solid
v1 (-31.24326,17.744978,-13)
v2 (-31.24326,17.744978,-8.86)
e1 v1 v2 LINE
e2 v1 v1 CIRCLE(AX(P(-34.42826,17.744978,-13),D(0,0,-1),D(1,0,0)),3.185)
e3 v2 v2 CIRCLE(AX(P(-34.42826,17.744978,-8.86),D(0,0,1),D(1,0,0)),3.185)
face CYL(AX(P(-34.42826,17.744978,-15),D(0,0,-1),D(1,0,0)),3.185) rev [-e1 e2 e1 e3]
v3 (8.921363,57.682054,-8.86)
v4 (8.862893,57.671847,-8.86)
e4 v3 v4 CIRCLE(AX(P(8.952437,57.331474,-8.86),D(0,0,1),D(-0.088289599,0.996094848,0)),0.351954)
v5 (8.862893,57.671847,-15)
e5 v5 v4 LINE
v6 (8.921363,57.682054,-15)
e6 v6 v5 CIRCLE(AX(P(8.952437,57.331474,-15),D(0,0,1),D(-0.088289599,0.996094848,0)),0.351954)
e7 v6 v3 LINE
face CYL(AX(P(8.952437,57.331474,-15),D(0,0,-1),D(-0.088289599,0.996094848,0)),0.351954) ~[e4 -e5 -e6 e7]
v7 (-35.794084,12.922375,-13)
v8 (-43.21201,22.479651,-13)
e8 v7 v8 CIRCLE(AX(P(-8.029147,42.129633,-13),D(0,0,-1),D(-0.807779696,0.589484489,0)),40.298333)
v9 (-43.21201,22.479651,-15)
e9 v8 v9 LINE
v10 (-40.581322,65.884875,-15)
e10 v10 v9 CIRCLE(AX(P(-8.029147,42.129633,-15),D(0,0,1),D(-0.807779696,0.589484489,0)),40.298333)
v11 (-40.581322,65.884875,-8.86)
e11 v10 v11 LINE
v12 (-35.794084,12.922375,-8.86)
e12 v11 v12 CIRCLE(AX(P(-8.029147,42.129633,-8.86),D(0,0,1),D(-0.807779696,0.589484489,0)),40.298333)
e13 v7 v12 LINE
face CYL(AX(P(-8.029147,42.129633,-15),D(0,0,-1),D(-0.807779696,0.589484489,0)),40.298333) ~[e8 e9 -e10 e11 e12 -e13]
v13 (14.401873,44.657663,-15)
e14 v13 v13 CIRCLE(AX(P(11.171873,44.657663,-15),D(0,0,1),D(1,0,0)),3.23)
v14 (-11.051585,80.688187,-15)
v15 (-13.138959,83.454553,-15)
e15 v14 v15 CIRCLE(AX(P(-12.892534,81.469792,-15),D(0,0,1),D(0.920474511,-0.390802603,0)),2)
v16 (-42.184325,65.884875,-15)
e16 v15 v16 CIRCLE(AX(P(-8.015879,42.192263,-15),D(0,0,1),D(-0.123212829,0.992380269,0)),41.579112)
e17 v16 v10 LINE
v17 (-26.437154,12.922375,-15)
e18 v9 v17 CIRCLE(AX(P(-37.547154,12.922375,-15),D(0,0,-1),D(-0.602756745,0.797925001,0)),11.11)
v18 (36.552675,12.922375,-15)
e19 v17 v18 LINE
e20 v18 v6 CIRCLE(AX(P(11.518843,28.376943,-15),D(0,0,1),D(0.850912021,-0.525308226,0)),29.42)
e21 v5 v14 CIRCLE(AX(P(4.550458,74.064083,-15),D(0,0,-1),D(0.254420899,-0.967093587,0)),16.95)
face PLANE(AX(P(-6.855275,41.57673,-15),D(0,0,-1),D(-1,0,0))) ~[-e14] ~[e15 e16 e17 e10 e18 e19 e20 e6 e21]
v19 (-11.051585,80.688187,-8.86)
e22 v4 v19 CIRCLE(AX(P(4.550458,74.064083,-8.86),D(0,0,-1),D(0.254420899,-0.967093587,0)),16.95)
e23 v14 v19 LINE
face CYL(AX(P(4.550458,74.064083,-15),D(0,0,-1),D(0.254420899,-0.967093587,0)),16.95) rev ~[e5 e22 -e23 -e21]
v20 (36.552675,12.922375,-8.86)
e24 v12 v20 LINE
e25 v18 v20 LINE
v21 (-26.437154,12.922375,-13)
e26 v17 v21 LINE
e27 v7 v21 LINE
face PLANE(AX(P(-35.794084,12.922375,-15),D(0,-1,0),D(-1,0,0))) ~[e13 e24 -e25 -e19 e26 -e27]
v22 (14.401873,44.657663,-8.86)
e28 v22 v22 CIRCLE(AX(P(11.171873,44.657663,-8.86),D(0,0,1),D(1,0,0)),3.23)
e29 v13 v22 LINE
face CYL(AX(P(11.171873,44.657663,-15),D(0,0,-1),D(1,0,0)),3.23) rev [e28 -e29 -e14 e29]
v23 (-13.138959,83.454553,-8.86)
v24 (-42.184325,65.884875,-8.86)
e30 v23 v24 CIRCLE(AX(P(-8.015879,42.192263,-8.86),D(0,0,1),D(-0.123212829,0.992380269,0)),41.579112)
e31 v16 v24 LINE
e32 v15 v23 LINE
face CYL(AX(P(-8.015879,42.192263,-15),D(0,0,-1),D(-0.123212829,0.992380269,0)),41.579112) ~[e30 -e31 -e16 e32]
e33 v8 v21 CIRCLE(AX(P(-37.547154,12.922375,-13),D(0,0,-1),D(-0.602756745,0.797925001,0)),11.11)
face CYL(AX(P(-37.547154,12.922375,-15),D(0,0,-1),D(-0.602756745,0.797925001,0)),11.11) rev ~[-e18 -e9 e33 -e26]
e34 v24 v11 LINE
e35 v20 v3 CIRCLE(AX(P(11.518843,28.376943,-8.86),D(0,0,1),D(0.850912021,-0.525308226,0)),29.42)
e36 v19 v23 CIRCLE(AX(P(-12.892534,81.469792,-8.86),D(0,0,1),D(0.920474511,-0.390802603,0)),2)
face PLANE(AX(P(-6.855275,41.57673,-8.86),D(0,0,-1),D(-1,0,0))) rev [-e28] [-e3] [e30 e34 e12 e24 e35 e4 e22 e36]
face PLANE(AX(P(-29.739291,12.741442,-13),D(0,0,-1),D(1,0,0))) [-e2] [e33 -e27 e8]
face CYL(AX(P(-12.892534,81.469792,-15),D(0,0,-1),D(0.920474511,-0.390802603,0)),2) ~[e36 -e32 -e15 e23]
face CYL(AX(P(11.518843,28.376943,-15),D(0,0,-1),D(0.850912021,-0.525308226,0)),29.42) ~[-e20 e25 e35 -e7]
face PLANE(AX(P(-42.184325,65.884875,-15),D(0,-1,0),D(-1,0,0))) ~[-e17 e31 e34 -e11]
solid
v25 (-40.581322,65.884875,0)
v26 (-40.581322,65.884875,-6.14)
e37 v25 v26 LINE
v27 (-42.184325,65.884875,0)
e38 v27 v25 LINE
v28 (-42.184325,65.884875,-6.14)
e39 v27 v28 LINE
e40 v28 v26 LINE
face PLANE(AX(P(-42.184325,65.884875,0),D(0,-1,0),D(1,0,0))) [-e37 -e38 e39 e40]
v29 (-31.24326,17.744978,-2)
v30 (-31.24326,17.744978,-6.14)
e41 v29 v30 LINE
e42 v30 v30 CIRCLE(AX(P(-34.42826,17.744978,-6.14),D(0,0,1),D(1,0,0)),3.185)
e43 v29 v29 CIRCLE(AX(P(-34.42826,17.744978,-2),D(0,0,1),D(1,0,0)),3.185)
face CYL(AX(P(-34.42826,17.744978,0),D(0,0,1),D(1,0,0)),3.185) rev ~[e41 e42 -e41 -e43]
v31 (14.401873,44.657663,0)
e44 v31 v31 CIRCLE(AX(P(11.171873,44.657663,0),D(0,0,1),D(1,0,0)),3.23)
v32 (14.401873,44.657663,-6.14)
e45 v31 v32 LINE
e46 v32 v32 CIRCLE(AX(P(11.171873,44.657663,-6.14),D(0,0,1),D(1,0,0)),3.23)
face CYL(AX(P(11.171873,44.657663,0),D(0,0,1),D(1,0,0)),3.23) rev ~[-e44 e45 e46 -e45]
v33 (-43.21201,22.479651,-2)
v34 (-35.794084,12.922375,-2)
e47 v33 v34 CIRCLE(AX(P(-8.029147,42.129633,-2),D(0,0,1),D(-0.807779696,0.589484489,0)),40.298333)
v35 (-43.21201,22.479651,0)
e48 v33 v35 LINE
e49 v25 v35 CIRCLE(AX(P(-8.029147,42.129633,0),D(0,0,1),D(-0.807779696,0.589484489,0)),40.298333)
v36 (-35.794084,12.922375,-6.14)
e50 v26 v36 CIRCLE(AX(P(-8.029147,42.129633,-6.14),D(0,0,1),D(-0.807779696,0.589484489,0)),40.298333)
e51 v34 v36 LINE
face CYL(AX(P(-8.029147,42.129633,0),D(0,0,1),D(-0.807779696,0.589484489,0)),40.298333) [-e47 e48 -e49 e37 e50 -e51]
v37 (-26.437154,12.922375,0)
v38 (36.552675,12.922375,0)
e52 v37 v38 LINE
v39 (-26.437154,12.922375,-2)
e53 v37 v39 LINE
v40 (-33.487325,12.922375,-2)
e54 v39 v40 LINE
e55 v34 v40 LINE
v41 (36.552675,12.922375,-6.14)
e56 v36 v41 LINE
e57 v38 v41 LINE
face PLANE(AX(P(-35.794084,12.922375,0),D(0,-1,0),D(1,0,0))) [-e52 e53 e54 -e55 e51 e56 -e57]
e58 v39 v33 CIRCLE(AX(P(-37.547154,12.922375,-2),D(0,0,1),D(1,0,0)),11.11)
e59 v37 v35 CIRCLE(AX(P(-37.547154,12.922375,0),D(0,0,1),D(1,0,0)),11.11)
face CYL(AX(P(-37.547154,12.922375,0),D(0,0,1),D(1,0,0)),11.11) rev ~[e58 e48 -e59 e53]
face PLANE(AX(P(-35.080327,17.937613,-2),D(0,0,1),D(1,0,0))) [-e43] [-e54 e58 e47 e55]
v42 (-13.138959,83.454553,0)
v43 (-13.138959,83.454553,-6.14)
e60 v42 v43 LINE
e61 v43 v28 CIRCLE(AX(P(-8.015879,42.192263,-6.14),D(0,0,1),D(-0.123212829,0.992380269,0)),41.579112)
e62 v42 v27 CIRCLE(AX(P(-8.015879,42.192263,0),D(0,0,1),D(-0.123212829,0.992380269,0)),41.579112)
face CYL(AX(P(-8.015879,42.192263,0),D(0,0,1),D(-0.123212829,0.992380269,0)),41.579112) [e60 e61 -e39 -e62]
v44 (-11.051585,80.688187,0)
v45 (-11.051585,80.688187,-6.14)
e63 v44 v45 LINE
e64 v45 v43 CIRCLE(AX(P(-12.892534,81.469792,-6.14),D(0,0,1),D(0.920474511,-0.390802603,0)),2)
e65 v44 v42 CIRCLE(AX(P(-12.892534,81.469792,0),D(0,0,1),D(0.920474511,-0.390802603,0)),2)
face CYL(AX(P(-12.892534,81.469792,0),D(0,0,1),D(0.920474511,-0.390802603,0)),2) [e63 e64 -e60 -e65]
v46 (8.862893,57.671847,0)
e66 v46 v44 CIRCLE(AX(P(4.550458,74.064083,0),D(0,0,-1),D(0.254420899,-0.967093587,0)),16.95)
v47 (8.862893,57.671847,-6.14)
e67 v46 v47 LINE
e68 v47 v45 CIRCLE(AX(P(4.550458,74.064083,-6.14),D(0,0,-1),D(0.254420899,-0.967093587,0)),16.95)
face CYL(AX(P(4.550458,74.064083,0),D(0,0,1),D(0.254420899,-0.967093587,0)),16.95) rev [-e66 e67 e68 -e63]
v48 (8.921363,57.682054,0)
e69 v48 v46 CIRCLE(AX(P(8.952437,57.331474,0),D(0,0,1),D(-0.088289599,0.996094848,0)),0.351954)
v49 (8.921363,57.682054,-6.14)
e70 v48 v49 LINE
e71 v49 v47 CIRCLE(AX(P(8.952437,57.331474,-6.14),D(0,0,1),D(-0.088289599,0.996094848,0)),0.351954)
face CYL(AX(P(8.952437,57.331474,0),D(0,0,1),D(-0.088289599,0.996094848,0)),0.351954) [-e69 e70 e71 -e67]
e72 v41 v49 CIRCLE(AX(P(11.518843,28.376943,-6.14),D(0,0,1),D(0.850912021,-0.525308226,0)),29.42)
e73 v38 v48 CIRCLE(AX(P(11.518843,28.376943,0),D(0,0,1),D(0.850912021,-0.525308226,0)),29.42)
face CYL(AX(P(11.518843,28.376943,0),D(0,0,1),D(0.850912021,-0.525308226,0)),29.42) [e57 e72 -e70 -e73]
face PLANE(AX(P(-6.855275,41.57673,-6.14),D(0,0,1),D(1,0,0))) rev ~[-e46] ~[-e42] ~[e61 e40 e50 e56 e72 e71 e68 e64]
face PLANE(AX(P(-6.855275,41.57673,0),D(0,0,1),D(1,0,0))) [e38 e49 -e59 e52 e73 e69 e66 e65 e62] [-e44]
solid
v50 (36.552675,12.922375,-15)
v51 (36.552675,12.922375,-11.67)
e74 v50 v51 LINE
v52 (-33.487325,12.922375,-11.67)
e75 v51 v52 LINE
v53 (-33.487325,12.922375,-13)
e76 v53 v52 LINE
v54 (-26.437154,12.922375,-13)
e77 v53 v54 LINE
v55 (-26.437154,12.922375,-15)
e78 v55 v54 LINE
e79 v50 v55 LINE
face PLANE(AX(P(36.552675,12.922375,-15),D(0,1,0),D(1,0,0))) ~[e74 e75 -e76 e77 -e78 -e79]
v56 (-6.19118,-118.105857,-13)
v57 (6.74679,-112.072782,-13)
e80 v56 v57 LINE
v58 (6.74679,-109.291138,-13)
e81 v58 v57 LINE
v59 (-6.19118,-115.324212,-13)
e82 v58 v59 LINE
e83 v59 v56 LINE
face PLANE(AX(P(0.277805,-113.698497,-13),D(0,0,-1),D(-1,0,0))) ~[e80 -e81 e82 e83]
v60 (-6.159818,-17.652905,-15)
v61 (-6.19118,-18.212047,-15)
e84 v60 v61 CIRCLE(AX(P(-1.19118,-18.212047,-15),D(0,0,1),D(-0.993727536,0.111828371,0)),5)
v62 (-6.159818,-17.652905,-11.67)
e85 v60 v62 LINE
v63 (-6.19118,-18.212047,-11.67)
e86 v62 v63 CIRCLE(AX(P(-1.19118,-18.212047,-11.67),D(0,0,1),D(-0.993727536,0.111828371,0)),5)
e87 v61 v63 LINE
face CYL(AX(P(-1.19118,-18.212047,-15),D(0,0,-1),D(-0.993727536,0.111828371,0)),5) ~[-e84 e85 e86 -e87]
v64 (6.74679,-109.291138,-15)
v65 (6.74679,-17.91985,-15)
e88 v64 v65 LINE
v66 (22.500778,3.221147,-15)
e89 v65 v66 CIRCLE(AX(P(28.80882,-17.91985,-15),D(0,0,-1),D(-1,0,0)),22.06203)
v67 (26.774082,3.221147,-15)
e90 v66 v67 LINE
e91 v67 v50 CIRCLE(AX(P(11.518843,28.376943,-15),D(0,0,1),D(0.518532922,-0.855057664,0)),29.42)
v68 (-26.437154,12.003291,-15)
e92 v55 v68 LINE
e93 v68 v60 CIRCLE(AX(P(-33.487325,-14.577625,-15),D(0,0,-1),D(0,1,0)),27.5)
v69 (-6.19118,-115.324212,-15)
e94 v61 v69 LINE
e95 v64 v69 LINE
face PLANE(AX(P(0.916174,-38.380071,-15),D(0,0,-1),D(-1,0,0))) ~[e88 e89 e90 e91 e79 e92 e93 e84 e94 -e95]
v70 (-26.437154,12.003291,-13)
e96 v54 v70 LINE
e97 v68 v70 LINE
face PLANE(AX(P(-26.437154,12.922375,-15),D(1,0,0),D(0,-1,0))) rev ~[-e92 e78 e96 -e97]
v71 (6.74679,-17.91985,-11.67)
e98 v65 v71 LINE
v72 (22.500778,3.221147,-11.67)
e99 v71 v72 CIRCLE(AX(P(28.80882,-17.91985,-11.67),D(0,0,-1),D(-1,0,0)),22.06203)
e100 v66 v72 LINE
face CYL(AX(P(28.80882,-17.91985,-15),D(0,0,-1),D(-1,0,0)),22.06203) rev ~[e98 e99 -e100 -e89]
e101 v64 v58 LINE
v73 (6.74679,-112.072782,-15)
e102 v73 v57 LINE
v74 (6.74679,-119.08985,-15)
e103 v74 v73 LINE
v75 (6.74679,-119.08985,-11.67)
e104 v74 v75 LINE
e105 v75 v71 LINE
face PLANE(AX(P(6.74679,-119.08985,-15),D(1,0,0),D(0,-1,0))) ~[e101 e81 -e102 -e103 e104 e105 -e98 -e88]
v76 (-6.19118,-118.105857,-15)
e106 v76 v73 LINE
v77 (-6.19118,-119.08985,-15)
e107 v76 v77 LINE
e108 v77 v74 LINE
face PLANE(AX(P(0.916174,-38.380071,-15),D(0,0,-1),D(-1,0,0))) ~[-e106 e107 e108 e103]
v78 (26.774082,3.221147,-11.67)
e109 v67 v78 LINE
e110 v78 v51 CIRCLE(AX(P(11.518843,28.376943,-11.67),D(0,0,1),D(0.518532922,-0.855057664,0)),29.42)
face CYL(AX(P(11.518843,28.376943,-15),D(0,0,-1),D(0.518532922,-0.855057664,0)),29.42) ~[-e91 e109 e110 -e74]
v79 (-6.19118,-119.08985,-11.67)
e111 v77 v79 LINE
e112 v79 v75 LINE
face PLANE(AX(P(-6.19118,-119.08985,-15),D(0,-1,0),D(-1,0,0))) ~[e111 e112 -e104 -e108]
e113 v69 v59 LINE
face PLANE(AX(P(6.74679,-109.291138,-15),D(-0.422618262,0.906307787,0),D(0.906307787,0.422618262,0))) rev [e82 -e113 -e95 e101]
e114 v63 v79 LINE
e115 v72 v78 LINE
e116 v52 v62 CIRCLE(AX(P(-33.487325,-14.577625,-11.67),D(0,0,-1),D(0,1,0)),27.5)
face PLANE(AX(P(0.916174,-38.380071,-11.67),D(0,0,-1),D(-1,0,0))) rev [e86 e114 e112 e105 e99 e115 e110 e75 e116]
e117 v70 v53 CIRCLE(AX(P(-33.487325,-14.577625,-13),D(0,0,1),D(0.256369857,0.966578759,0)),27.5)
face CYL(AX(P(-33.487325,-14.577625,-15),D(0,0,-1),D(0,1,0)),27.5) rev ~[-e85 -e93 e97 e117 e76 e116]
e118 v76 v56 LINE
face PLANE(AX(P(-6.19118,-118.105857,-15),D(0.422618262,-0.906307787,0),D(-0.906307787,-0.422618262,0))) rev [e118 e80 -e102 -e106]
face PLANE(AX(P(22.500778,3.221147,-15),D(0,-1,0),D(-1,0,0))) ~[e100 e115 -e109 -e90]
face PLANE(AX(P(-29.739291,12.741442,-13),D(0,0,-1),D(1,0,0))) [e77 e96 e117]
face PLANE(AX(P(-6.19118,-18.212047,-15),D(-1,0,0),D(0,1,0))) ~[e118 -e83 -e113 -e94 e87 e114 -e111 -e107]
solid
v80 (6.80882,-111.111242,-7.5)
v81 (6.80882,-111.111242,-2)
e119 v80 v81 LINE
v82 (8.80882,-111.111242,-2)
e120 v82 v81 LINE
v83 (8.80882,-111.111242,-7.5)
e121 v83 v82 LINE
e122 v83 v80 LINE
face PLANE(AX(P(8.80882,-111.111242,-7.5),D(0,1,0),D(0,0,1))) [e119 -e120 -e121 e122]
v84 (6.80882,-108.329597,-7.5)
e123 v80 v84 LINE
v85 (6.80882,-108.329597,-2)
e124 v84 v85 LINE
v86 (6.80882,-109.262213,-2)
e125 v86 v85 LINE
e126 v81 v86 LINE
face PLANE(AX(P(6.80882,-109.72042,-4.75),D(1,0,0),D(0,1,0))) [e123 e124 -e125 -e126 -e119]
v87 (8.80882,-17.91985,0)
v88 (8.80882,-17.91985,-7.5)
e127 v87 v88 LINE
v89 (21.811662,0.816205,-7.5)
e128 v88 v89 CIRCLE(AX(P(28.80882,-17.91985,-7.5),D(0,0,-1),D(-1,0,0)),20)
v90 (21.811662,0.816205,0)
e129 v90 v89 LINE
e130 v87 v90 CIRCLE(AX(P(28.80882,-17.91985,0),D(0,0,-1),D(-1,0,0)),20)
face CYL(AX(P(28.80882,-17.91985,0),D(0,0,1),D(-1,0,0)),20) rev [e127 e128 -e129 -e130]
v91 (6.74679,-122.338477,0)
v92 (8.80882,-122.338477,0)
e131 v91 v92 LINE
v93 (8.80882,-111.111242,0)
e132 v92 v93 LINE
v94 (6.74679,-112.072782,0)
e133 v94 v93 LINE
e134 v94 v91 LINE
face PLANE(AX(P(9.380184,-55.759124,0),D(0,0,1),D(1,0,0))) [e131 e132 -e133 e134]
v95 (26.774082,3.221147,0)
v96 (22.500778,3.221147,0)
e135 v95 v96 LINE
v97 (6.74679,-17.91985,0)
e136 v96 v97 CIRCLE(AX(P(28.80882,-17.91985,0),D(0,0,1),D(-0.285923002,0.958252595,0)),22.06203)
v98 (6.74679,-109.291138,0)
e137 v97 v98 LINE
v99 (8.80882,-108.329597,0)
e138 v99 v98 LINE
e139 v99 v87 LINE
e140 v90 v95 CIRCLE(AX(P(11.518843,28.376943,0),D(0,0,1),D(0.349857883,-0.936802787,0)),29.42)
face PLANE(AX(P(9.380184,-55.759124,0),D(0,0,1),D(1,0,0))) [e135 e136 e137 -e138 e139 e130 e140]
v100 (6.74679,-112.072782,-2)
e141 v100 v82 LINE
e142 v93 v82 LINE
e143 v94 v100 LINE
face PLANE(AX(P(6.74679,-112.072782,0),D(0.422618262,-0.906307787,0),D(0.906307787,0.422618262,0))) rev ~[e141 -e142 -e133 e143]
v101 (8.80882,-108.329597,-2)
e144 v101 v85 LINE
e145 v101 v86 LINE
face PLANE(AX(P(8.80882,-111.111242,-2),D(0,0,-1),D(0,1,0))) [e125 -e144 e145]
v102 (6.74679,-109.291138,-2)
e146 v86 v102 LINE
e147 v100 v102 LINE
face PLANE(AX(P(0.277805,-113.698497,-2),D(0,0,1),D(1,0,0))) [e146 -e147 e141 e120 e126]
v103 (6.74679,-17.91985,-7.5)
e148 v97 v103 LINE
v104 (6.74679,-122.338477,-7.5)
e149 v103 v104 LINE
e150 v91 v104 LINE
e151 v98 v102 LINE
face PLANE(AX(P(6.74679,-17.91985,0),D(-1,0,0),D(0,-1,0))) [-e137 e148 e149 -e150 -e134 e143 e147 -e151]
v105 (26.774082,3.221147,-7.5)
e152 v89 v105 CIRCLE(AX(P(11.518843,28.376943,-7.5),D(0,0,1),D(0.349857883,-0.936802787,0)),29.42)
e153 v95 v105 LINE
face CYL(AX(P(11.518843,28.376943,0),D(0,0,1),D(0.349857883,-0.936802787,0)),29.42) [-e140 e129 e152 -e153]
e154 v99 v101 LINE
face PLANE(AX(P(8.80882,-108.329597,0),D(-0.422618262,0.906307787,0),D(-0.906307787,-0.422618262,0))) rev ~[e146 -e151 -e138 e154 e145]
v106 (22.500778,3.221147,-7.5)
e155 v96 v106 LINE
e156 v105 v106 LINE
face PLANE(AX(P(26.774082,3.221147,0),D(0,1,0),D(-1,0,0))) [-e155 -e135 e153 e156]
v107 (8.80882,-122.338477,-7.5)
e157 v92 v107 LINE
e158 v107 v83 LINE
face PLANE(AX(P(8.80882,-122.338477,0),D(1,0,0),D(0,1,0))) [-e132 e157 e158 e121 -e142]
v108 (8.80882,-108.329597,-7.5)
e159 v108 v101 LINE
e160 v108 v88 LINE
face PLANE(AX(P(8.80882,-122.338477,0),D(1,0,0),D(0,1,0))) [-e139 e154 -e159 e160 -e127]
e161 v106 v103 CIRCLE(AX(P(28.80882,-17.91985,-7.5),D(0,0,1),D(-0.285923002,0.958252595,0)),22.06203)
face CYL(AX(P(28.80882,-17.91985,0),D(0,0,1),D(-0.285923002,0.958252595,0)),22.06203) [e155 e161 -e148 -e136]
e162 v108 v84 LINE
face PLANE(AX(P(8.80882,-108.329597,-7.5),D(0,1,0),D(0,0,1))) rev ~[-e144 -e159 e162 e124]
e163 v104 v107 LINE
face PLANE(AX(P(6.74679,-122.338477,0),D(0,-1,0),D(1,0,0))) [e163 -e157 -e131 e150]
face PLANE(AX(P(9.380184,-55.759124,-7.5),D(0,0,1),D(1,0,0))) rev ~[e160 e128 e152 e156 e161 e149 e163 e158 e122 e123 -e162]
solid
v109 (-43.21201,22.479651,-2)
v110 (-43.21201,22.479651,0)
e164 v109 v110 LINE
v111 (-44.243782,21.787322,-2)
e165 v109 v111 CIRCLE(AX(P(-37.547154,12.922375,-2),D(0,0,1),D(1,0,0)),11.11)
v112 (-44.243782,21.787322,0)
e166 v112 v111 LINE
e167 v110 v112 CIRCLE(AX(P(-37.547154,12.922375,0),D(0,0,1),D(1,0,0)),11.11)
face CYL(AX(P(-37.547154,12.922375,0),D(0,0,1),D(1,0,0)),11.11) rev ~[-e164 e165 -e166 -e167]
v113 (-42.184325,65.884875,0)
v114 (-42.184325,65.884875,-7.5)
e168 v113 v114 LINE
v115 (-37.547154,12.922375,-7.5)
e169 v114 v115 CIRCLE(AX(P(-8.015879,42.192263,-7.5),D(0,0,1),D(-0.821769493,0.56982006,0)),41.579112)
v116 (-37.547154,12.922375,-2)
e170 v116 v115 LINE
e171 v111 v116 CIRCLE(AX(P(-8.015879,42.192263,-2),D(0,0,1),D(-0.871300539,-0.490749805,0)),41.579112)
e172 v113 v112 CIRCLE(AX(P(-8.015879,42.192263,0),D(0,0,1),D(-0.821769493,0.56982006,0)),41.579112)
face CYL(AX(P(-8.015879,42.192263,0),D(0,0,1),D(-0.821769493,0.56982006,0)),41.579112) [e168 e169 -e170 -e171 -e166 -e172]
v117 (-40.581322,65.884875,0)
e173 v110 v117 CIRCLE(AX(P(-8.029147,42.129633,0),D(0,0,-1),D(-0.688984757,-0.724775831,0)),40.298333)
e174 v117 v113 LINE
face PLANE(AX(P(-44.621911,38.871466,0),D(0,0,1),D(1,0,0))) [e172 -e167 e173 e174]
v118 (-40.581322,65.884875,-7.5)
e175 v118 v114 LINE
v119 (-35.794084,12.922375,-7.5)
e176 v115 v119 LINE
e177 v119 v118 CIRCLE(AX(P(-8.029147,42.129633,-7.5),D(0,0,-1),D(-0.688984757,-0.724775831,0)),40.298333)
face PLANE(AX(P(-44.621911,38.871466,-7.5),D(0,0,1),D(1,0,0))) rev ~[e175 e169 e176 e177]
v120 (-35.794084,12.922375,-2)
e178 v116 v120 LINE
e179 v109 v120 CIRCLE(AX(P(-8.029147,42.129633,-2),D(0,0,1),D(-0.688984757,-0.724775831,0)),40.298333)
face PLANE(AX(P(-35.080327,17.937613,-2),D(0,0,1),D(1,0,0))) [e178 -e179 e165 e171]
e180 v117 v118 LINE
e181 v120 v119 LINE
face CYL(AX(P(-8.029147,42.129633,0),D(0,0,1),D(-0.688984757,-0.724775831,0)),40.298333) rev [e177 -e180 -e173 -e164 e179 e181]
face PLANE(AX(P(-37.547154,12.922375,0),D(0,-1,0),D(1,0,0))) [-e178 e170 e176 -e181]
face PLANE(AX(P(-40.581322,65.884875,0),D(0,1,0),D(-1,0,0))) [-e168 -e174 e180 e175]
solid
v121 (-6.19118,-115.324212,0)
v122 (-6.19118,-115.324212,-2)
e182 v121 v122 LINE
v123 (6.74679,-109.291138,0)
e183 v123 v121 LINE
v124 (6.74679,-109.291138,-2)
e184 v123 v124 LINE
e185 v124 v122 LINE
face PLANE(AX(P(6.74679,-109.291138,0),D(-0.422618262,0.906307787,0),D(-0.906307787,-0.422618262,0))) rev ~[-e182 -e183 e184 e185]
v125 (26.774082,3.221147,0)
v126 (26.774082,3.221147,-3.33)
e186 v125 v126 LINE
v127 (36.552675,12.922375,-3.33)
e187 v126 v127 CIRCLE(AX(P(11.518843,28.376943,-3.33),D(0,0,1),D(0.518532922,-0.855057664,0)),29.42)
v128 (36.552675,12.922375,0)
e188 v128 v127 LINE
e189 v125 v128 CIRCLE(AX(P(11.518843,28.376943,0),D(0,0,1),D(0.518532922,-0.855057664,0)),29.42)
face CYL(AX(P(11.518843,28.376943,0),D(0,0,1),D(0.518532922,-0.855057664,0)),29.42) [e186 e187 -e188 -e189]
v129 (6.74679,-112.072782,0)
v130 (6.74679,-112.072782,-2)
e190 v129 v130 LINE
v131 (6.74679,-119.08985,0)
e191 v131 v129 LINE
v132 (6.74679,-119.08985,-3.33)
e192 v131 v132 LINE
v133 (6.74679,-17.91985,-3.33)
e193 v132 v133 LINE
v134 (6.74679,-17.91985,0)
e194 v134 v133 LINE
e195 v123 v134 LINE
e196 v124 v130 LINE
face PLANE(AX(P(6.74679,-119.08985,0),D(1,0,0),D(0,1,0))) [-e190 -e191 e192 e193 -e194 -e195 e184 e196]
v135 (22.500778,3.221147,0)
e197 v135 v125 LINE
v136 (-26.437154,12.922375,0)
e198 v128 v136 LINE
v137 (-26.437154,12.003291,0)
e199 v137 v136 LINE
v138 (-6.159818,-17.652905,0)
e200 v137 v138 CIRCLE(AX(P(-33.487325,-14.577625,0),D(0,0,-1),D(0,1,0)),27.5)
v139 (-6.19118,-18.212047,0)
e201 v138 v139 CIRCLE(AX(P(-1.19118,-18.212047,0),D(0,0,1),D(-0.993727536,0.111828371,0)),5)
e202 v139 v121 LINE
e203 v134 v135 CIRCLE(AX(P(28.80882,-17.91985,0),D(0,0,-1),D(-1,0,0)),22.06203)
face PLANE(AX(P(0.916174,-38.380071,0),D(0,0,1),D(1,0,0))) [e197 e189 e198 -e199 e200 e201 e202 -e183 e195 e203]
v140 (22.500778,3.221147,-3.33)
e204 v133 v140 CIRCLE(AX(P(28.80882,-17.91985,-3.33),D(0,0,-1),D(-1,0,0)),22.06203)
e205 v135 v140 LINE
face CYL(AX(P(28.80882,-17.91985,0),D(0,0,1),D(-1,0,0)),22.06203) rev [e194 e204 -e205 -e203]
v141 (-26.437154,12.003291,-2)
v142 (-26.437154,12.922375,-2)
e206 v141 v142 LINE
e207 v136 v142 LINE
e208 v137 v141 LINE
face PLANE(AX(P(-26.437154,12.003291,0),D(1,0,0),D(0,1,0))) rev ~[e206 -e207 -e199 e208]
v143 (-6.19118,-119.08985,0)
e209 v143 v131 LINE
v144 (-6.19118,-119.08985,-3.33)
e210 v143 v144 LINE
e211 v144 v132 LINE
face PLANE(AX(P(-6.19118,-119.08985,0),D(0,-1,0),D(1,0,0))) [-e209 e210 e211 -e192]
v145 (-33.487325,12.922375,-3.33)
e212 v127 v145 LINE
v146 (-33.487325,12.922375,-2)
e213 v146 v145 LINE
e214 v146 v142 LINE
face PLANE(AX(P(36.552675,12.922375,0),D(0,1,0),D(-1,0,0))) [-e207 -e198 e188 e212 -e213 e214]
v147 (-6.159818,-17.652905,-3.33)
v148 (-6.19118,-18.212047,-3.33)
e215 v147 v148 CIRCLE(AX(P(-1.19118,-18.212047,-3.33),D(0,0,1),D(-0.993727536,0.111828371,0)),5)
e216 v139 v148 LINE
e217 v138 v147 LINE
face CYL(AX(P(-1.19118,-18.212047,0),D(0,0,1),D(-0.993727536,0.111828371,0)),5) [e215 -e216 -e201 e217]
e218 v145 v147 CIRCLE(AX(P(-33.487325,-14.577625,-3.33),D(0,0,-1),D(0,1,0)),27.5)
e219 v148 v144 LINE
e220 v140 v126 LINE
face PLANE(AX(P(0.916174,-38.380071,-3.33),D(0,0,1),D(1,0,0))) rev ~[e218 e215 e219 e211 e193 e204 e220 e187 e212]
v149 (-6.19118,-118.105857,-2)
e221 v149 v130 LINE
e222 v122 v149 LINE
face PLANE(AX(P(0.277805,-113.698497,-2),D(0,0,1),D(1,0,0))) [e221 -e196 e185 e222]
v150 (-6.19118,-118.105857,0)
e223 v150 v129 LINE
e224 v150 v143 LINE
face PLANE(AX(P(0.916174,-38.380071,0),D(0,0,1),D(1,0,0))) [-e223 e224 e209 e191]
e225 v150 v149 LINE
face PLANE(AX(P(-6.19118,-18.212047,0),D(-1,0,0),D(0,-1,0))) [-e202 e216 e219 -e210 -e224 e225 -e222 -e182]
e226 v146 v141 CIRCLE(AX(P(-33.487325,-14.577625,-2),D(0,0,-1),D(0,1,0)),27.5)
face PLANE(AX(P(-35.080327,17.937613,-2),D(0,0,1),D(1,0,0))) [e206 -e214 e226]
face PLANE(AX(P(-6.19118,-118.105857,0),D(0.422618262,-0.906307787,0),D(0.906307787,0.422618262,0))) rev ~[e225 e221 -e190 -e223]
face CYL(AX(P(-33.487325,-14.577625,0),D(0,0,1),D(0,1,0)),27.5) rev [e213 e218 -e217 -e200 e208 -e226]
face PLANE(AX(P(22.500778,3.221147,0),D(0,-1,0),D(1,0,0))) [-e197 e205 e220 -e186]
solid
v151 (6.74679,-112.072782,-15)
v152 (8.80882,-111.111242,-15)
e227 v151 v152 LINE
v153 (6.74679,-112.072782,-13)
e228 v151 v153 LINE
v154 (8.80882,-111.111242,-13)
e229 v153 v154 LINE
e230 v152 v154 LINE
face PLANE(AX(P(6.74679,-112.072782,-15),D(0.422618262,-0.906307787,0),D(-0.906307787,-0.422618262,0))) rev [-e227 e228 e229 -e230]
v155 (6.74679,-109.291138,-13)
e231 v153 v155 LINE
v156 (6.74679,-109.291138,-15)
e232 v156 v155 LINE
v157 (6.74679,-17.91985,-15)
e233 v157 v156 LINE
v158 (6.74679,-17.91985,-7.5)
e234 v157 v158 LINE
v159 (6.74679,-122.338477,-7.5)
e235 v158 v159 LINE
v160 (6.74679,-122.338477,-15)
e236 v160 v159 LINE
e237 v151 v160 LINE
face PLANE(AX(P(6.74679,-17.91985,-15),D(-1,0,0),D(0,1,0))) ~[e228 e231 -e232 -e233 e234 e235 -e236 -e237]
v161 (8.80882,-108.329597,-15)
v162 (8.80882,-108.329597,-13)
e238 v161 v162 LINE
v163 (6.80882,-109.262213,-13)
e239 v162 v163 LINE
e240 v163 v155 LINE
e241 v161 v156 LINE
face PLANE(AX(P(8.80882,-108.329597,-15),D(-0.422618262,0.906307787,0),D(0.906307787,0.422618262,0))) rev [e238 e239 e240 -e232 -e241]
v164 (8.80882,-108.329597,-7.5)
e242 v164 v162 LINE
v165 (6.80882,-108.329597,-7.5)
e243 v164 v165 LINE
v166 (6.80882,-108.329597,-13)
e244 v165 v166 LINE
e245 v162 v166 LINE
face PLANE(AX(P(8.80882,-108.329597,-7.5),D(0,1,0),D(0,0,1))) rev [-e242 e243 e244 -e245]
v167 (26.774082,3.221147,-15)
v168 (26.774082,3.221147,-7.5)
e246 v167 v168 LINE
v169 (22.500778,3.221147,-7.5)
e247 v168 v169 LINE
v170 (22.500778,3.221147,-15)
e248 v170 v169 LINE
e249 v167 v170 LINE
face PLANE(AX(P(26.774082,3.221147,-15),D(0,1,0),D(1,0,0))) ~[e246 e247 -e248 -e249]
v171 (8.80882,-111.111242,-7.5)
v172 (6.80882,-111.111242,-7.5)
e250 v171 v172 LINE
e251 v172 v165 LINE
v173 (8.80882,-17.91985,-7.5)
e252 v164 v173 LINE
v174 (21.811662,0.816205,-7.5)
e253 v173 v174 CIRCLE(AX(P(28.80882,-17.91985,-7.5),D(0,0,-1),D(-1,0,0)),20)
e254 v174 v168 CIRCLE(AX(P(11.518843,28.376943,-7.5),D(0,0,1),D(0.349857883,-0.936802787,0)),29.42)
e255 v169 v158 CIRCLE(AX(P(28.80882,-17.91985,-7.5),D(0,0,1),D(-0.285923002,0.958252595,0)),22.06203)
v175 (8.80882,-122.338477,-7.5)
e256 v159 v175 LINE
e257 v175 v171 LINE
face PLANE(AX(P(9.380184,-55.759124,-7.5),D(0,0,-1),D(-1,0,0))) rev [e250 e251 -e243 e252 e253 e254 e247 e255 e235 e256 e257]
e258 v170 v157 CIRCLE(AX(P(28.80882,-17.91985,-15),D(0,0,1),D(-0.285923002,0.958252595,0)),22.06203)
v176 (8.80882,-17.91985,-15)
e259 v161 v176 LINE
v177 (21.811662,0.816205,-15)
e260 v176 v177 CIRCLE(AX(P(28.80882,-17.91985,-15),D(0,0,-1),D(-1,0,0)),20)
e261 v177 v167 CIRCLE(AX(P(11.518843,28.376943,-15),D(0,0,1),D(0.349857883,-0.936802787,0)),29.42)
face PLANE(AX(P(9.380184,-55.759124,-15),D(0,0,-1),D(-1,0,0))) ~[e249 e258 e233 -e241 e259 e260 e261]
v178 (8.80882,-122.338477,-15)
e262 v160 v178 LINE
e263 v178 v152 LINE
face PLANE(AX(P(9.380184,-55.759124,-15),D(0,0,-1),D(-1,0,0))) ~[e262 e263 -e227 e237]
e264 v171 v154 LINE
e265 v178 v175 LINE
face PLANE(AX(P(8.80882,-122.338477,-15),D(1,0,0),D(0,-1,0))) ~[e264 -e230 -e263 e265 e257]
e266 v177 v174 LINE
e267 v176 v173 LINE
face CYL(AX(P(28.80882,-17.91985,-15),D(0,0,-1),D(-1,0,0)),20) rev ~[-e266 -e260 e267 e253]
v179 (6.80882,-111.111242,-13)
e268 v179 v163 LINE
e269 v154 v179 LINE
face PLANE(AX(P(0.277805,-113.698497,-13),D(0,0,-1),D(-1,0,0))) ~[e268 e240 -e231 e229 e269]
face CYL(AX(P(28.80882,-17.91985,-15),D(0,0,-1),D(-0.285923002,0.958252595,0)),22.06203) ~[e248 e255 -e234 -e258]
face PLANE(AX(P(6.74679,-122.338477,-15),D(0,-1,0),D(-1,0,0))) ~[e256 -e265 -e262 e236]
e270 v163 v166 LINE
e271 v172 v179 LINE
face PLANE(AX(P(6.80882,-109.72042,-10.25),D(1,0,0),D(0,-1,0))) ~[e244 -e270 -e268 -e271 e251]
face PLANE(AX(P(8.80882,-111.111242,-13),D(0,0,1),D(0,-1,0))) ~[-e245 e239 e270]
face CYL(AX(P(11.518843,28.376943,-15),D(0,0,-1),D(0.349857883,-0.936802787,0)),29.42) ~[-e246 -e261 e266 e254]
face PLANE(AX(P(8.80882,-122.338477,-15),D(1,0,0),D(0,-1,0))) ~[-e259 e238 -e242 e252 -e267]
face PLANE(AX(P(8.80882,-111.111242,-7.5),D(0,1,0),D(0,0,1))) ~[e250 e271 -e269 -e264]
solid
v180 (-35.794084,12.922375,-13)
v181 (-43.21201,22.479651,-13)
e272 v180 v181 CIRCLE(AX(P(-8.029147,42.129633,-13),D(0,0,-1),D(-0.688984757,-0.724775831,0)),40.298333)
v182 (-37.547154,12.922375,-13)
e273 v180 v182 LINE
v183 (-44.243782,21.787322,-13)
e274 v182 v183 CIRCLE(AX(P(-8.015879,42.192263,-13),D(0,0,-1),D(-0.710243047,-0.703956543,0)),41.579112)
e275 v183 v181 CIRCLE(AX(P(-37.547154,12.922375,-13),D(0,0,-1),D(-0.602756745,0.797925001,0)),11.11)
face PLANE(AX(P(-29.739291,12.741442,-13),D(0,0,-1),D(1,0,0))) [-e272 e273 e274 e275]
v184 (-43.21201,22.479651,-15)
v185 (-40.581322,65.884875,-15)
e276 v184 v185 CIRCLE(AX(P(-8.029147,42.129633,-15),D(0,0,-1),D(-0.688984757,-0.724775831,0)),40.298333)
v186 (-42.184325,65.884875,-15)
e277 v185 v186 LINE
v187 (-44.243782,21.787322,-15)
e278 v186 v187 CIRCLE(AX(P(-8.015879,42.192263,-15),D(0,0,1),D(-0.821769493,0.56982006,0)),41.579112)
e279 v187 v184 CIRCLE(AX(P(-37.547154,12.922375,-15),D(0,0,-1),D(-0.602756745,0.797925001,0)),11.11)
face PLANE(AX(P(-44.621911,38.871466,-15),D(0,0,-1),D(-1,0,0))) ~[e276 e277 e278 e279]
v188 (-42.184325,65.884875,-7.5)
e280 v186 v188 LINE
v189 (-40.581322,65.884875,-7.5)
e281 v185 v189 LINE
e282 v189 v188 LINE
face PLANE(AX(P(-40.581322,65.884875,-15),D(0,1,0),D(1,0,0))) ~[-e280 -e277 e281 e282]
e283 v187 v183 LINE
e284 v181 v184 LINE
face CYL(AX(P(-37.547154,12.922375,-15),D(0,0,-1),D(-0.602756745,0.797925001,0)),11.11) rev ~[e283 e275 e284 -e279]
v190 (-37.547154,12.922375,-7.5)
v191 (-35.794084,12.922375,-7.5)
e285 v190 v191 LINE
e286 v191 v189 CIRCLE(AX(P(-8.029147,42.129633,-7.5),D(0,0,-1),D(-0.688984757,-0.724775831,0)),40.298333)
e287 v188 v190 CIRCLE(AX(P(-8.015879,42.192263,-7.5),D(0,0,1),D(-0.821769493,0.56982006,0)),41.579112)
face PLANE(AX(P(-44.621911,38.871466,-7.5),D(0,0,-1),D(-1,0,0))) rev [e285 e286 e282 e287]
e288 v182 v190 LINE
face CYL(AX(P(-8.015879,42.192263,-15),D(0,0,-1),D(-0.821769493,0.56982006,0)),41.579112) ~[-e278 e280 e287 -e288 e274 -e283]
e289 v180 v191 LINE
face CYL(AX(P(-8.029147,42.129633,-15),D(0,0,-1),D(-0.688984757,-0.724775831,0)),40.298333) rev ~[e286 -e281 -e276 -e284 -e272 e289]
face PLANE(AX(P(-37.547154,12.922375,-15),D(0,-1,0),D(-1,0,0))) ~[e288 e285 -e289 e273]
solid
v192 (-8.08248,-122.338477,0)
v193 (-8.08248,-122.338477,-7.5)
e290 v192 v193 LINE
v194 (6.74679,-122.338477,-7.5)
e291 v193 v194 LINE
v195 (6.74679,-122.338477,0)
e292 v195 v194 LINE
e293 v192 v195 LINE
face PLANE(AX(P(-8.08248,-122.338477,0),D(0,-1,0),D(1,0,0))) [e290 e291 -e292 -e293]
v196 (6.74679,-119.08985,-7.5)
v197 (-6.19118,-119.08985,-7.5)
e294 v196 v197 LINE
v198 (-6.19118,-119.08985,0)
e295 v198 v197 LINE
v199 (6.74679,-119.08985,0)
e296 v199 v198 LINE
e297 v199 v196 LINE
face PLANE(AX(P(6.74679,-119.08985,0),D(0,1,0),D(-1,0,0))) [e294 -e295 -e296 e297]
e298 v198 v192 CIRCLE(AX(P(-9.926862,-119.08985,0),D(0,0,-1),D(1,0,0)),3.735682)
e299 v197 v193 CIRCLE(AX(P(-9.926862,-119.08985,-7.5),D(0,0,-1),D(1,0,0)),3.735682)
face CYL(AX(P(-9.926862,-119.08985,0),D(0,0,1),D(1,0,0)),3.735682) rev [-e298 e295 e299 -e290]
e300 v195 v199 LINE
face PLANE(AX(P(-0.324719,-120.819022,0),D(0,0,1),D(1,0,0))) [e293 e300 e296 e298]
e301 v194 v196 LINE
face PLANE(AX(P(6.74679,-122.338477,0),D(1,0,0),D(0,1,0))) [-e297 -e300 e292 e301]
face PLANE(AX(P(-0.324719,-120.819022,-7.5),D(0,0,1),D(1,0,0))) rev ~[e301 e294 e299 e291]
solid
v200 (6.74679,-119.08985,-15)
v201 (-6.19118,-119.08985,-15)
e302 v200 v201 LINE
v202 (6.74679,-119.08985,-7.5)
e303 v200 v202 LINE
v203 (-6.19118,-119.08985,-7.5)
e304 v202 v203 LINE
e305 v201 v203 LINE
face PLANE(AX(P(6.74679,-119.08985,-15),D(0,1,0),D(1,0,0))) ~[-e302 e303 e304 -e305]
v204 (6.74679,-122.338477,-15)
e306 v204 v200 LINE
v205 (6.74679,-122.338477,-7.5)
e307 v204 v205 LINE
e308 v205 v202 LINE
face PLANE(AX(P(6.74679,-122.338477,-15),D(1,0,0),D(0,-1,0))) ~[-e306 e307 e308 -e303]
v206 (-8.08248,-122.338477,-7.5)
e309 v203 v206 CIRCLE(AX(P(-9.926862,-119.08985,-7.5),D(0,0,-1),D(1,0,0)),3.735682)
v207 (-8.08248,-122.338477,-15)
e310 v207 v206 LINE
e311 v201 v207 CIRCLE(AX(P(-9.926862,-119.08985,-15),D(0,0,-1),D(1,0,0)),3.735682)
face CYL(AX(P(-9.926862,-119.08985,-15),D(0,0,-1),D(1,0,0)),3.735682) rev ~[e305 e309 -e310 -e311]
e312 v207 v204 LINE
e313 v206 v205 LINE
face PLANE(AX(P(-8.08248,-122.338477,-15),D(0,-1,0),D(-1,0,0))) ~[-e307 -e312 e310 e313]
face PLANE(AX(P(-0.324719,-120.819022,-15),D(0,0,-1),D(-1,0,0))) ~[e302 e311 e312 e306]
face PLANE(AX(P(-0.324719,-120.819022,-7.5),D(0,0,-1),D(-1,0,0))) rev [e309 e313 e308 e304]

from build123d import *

# Parameters (mm, degrees)
F1_DEPTH  = 7.5
F2_DEPTH  = 7.5
F3_DEPTH  = 3.33
F0_R      = 3.185
F0_R_2    = 3.23
F4_DEPTH  = 6.14
F5_DEPTH  = 7.5
F8_DEPTH  = 2
F9_W      = 2.7816444635
F9_H      = 5.5
F10_DEPTH = 2
F14_DEPTH = 2
F17_DEPTH = 2


with BuildPart() as f1:
    # F0 (on Top) → F1 (new body)
    with BuildSketch(Plane.XY):
        with BuildLine():
            Line((8.8088196781, -59.1273443937), (8.8088196781, -17.9198504258))
            ThreePointArc((8.8088196781, -17.9198504258), (12.3780078725, -6.516849794), (21.811662019, 0.8162053142))
            ThreePointArc((21.811662019, 0.8162053142), (24.3493437167, 1.9021505043), (26.7740816538, 3.2211468239))
            Line((26.7740816538, 3.2211468239), (22.5007778988, 3.2211468239))
            ThreePointArc((22.5007778988, 3.2211468239), (11.1184075705, -4.7371922999), (6.7467899482, -17.9198504258))
            Line((6.7467899482, -17.9198504258), (6.7467899482, -59.1273443937))
            Line((6.7467899482, -59.1273443937), (6.7467899482, -119.0898504258))
            Line((6.7467899482, -119.0898504258), (6.7467899482, -122.3384766844))
            Line((6.7467899482, -122.3384766844), (8.8088196781, -122.3384766844))
            Line((8.8088196781, -122.3384766844), (8.8088196781, -59.1273443937))
        make_face()
    extrude(amount=-F1_DEPTH)


with BuildPart() as f2:
    # F0 (on Top) → F2 (new body)
    with BuildSketch(Plane.XY):
        with BuildLine():
            Line((-8.0824800033, -122.3384766844), (6.7467899482, -122.3384766844))
            Line((6.7467899482, -122.3384766844), (6.7467899482, -119.0898504258))
            Line((6.7467899482, -119.0898504258), (-6.1911803219, -119.0898504258))
            ThreePointArc((-6.1911803219, -119.0898504258), (-6.6984458535, -120.9693840816), (-8.0824800033, -122.3384766844))
        make_face()
    extrude(amount=-F2_DEPTH)


with BuildPart() as f3:
    # F0 (on Top) → F3 (new body)
    with BuildSketch(Plane.XY):
        with BuildLine():
            Line((22.5007778988, 3.2211468239), (26.7740816538, 3.2211468239))
            ThreePointArc((26.7740816538, 3.2211468239), (32.2391411967, 7.4914065207), (36.5526747632, 12.9223752977))
            Line((36.5526747632, 12.9223752977), (-33.4873252368, 12.9223752977))
            ThreePointArc((-33.4873252368, 12.9223752977), (-12.9834206648, 3.748310398), (-6.1598180011, -17.6529048985))
            ThreePointArc((-6.1598180011, -17.6529048985), (-6.1833335846, -17.9320363919), (-6.1911803219, -18.2120467524))
            Line((-6.1911803219, -18.2120467524), (-6.1911803219, -119.0898504258))
            Line((-6.1911803219, -119.0898504258), (6.7467899482, -119.0898504258))
            Line((6.7467899482, -119.0898504258), (6.7467899482, -59.1273443937))
            Line((6.7467899482, -59.1273443937), (6.7467899482, -17.9198504258))
            ThreePointArc((6.7467899482, -17.9198504258), (11.1184075705, -4.7371922999), (22.5007778988, 3.2211468239))
        make_face()
    extrude(amount=-F3_DEPTH)


with BuildPart() as f4:
    # F0 (on Top) → F4 (new body)
    with BuildSketch(Plane.XY):
        with BuildLine():
            Line((-33.4873252368, 12.9223752977), (36.5526747632, 12.9223752977))
            ThreePointArc((36.5526747632, 12.9223752977), (36.5529133557, 43.8311248311), (8.9213631661, 57.6820537492))
            ThreePointArc((8.9213631661, 57.6820537492), (8.8919123245, 57.6781849796), (8.8628925916, 57.6718466396))
            ThreePointArc((8.8628925916, 57.6718466396), (-8.2675679301, 62.9735147852), (-11.0515846019, 80.688187065))
            ThreePointArc((-11.0515846019, 80.688187065), (-11.2960308683, 82.6744411626), (-13.1389592812, 83.4545528098))
            ThreePointArc((-13.1389592812, 83.4545528098), (-29.5363204866, 77.7688440903), (-42.1843247147, 65.8848747538))
            Line((-42.1843247147, 65.8848747538), (-40.5813219482, 65.8848747538))
            ThreePointArc((-40.5813219482, 65.8848747538), (-48.1638587582, 38.5018882849), (-35.7940839918, 12.9223752977))
            Line((-35.7940839918, 12.9223752977), (-33.4873252368, 12.9223752977))
        make_face()
        with Locations((-34.428260039, 17.7449777678)):
            Circle(F0_R, mode=Mode.SUBTRACT)
        with Locations((11.1718727276, 44.6576625109)):
            Circle(F0_R_2, mode=Mode.SUBTRACT)
    extrude(amount=-F4_DEPTH)


with BuildPart() as f5:
    # F0 (on Top) → F5 (new body)
    with BuildSketch(Plane.XY):
        with BuildLine():
            Line((-37.5471541768, 12.9223752977), (-35.7940839918, 12.9223752977))
            ThreePointArc((-35.7940839918, 12.9223752977), (-48.1638587582, 38.5018882849), (-40.5813219482, 65.8848747538))
            Line((-40.5813219482, 65.8848747538), (-42.1843247147, 65.8848747538))
            ThreePointArc((-42.1843247147, 65.8848747538), (-49.436528488, 38.5656475619), (-37.5471541768, 12.9223752977))
        make_face()
    extrude(amount=-F5_DEPTH)


with BuildPart() as f8_tool:
    # F7 (on face) → F8 (new body)
    with BuildSketch(Plane.XY):
        Polygon((-6.1911803219, -115.3242123343), (-6.1911803219, -118.1058567978), (6.7467899482, -112.0727821798), (6.7467899482, -109.2911377163), align=None)
        Polygon((6.7467899482, -109.2911377163), (6.7467899482, -112.0727821798), (8.8088196781, -111.1112419255), (8.8088196781, -108.3295974619), align=None)
    extrude(amount=-F8_DEPTH)


with BuildPart() as f1_1:
    add(f1.part)

    # F8: cut by f8_tool
    add(f8_tool.part, mode=Mode.SUBTRACT)

    # F9 (on face) → F10 (cut)
    with BuildSketch(Plane.YZ.offset(8.8088196781)):
        with Locations((-109.7204196937, -4.75)):
            Rectangle(F9_W, F9_H)
    extrude(amount=-F10_DEPTH, mode=Mode.SUBTRACT)


with BuildPart() as f3_1:
    add(f3.part)

    # F8: cut by f8_tool
    add(f8_tool.part, mode=Mode.SUBTRACT)


with BuildPart() as f11_1:
    # F11: instance of F4
    add(f4.part.mirror(Plane(origin=(9.0970071096, -56.098686688, -7.5), x_dir=(1, 0, 0), z_dir=(0, 0, -1))))


with BuildPart() as f11_2:
    # F11: instance of F3
    add(f3_1.part.mirror(Plane(origin=(9.0970071096, -56.098686688, -7.5), x_dir=(1, 0, 0), z_dir=(0, 0, -1))))


with BuildPart() as f11_3:
    # F11: instance of F1
    add(f1_1.part.mirror(Plane(origin=(9.0970071096, -56.098686688, -7.5), x_dir=(1, 0, 0), z_dir=(0, 0, -1))))


with BuildPart() as f11_4:
    # F11: instance of F5
    add(f5.part.mirror(Plane(origin=(9.0970071096, -56.098686688, -7.5), x_dir=(1, 0, 0), z_dir=(0, 0, -1))))


with BuildPart() as f11_5:
    # F11: instance of F2
    add(f2.part.mirror(Plane(origin=(9.0970071096, -56.098686688, -7.5), x_dir=(1, 0, 0), z_dir=(0, 0, -1))))


with BuildPart() as f14_tool:
    # F13 (on offset) → F14 (new body)
    with BuildSketch(Plane.XY):
        with BuildLine():
            ThreePointArc((-26.437154177, 12.9223752977), (-32.5957619895, 22.868018334), (-44.2437816128, 21.7873220536))
            ThreePointArc((-44.2437816128, 21.7873220536), (-41.1928919207, 17.1301730012), (-37.5471541769, 12.9223752978))
            Line((-37.547154177, 12.9223752977), (-35.7940839918, 12.9223752977))
            Line((-35.7940839918, 12.9223752977), (-33.4873252368, 12.9223752977))
            Line((-33.4873252368, 12.9223752977), (-26.437154177, 12.9223752977))
        make_face()
        with BuildLine():
            Line((-26.437154177, 12.003291159), (-26.437154177, 12.9223752977))
            Line((-26.437154177, 12.9223752977), (-33.4873252368, 12.9223752977))
            ThreePointArc((-33.4873252368, 12.9223752977), (-29.9324121708, 12.6916362538), (-26.437154177, 12.003291159))
        make_face()
    extrude(amount=-F14_DEPTH)


with BuildPart() as f3_2:
    add(f3_1.part)

    # F14: cut by f14_tool
    add(f14_tool.part, mode=Mode.SUBTRACT)


with BuildPart() as f4_1:
    add(f4.part)

    # F14: cut by f14_tool
    add(f14_tool.part, mode=Mode.SUBTRACT)


with BuildPart() as f5_1:
    add(f5.part)

    # F14: cut by f14_tool
    add(f14_tool.part, mode=Mode.SUBTRACT)


with BuildPart() as f17_tool:
    # F16 (on offset) → F17 (new body)
    with BuildSketch(Plane(origin=(0, 0, -15), x_dir=(1, 0, 0), z_dir=(0, 0, -1))):
        with BuildLine():
            ThreePointArc((-26.4371541768, -12.003291159), (-29.9324121707, -12.6916362538), (-33.4873252368, -12.9223752977))
            Line((-33.4873252368, -12.9223752977), (-26.4371541768, -12.9223752977))
            Line((-26.4371541768, -12.9223752977), (-26.4371541768, -12.003291159))
        make_face()
        with BuildLine():
            Line((-33.4873252368, -12.9223752977), (-35.7940839918, -12.9223752977))
            Line((-35.7940839918, -12.9223752977), (-37.5471541768, -12.9223752977))
            ThreePointArc((-37.5471541768, -12.9223752977), (-41.1928919206, -17.1301730011), (-44.2437816127, -21.7873220535))
            ThreePointArc((-44.2437816127, -21.7873220535), (-32.5957619894, -22.8680183341), (-26.4371541768, -12.9223752977))
            Line((-26.4371541768, -12.9223752977), (-33.4873252368, -12.9223752977))
        make_face()
    extrude(amount=-F17_DEPTH)


with BuildPart() as f11_1_1:
    add(f11_1.part)

    # F17: cut by f17_tool
    add(f17_tool.part, mode=Mode.SUBTRACT)


with BuildPart() as f11_2_1:
    add(f11_2.part)

    # F17: cut by f17_tool
    add(f17_tool.part, mode=Mode.SUBTRACT)


with BuildPart() as f11_4_1:
    add(f11_4.part)

    # F17: cut by f17_tool
    add(f17_tool.part, mode=Mode.SUBTRACT)


solid = Compound([f2.part, f1_1.part, f11_3.part, f11_5.part, f3_2.part, f4_1.part, f5_1.part, f11_1_1.part, f11_2_1.part, f11_4_1.part])
